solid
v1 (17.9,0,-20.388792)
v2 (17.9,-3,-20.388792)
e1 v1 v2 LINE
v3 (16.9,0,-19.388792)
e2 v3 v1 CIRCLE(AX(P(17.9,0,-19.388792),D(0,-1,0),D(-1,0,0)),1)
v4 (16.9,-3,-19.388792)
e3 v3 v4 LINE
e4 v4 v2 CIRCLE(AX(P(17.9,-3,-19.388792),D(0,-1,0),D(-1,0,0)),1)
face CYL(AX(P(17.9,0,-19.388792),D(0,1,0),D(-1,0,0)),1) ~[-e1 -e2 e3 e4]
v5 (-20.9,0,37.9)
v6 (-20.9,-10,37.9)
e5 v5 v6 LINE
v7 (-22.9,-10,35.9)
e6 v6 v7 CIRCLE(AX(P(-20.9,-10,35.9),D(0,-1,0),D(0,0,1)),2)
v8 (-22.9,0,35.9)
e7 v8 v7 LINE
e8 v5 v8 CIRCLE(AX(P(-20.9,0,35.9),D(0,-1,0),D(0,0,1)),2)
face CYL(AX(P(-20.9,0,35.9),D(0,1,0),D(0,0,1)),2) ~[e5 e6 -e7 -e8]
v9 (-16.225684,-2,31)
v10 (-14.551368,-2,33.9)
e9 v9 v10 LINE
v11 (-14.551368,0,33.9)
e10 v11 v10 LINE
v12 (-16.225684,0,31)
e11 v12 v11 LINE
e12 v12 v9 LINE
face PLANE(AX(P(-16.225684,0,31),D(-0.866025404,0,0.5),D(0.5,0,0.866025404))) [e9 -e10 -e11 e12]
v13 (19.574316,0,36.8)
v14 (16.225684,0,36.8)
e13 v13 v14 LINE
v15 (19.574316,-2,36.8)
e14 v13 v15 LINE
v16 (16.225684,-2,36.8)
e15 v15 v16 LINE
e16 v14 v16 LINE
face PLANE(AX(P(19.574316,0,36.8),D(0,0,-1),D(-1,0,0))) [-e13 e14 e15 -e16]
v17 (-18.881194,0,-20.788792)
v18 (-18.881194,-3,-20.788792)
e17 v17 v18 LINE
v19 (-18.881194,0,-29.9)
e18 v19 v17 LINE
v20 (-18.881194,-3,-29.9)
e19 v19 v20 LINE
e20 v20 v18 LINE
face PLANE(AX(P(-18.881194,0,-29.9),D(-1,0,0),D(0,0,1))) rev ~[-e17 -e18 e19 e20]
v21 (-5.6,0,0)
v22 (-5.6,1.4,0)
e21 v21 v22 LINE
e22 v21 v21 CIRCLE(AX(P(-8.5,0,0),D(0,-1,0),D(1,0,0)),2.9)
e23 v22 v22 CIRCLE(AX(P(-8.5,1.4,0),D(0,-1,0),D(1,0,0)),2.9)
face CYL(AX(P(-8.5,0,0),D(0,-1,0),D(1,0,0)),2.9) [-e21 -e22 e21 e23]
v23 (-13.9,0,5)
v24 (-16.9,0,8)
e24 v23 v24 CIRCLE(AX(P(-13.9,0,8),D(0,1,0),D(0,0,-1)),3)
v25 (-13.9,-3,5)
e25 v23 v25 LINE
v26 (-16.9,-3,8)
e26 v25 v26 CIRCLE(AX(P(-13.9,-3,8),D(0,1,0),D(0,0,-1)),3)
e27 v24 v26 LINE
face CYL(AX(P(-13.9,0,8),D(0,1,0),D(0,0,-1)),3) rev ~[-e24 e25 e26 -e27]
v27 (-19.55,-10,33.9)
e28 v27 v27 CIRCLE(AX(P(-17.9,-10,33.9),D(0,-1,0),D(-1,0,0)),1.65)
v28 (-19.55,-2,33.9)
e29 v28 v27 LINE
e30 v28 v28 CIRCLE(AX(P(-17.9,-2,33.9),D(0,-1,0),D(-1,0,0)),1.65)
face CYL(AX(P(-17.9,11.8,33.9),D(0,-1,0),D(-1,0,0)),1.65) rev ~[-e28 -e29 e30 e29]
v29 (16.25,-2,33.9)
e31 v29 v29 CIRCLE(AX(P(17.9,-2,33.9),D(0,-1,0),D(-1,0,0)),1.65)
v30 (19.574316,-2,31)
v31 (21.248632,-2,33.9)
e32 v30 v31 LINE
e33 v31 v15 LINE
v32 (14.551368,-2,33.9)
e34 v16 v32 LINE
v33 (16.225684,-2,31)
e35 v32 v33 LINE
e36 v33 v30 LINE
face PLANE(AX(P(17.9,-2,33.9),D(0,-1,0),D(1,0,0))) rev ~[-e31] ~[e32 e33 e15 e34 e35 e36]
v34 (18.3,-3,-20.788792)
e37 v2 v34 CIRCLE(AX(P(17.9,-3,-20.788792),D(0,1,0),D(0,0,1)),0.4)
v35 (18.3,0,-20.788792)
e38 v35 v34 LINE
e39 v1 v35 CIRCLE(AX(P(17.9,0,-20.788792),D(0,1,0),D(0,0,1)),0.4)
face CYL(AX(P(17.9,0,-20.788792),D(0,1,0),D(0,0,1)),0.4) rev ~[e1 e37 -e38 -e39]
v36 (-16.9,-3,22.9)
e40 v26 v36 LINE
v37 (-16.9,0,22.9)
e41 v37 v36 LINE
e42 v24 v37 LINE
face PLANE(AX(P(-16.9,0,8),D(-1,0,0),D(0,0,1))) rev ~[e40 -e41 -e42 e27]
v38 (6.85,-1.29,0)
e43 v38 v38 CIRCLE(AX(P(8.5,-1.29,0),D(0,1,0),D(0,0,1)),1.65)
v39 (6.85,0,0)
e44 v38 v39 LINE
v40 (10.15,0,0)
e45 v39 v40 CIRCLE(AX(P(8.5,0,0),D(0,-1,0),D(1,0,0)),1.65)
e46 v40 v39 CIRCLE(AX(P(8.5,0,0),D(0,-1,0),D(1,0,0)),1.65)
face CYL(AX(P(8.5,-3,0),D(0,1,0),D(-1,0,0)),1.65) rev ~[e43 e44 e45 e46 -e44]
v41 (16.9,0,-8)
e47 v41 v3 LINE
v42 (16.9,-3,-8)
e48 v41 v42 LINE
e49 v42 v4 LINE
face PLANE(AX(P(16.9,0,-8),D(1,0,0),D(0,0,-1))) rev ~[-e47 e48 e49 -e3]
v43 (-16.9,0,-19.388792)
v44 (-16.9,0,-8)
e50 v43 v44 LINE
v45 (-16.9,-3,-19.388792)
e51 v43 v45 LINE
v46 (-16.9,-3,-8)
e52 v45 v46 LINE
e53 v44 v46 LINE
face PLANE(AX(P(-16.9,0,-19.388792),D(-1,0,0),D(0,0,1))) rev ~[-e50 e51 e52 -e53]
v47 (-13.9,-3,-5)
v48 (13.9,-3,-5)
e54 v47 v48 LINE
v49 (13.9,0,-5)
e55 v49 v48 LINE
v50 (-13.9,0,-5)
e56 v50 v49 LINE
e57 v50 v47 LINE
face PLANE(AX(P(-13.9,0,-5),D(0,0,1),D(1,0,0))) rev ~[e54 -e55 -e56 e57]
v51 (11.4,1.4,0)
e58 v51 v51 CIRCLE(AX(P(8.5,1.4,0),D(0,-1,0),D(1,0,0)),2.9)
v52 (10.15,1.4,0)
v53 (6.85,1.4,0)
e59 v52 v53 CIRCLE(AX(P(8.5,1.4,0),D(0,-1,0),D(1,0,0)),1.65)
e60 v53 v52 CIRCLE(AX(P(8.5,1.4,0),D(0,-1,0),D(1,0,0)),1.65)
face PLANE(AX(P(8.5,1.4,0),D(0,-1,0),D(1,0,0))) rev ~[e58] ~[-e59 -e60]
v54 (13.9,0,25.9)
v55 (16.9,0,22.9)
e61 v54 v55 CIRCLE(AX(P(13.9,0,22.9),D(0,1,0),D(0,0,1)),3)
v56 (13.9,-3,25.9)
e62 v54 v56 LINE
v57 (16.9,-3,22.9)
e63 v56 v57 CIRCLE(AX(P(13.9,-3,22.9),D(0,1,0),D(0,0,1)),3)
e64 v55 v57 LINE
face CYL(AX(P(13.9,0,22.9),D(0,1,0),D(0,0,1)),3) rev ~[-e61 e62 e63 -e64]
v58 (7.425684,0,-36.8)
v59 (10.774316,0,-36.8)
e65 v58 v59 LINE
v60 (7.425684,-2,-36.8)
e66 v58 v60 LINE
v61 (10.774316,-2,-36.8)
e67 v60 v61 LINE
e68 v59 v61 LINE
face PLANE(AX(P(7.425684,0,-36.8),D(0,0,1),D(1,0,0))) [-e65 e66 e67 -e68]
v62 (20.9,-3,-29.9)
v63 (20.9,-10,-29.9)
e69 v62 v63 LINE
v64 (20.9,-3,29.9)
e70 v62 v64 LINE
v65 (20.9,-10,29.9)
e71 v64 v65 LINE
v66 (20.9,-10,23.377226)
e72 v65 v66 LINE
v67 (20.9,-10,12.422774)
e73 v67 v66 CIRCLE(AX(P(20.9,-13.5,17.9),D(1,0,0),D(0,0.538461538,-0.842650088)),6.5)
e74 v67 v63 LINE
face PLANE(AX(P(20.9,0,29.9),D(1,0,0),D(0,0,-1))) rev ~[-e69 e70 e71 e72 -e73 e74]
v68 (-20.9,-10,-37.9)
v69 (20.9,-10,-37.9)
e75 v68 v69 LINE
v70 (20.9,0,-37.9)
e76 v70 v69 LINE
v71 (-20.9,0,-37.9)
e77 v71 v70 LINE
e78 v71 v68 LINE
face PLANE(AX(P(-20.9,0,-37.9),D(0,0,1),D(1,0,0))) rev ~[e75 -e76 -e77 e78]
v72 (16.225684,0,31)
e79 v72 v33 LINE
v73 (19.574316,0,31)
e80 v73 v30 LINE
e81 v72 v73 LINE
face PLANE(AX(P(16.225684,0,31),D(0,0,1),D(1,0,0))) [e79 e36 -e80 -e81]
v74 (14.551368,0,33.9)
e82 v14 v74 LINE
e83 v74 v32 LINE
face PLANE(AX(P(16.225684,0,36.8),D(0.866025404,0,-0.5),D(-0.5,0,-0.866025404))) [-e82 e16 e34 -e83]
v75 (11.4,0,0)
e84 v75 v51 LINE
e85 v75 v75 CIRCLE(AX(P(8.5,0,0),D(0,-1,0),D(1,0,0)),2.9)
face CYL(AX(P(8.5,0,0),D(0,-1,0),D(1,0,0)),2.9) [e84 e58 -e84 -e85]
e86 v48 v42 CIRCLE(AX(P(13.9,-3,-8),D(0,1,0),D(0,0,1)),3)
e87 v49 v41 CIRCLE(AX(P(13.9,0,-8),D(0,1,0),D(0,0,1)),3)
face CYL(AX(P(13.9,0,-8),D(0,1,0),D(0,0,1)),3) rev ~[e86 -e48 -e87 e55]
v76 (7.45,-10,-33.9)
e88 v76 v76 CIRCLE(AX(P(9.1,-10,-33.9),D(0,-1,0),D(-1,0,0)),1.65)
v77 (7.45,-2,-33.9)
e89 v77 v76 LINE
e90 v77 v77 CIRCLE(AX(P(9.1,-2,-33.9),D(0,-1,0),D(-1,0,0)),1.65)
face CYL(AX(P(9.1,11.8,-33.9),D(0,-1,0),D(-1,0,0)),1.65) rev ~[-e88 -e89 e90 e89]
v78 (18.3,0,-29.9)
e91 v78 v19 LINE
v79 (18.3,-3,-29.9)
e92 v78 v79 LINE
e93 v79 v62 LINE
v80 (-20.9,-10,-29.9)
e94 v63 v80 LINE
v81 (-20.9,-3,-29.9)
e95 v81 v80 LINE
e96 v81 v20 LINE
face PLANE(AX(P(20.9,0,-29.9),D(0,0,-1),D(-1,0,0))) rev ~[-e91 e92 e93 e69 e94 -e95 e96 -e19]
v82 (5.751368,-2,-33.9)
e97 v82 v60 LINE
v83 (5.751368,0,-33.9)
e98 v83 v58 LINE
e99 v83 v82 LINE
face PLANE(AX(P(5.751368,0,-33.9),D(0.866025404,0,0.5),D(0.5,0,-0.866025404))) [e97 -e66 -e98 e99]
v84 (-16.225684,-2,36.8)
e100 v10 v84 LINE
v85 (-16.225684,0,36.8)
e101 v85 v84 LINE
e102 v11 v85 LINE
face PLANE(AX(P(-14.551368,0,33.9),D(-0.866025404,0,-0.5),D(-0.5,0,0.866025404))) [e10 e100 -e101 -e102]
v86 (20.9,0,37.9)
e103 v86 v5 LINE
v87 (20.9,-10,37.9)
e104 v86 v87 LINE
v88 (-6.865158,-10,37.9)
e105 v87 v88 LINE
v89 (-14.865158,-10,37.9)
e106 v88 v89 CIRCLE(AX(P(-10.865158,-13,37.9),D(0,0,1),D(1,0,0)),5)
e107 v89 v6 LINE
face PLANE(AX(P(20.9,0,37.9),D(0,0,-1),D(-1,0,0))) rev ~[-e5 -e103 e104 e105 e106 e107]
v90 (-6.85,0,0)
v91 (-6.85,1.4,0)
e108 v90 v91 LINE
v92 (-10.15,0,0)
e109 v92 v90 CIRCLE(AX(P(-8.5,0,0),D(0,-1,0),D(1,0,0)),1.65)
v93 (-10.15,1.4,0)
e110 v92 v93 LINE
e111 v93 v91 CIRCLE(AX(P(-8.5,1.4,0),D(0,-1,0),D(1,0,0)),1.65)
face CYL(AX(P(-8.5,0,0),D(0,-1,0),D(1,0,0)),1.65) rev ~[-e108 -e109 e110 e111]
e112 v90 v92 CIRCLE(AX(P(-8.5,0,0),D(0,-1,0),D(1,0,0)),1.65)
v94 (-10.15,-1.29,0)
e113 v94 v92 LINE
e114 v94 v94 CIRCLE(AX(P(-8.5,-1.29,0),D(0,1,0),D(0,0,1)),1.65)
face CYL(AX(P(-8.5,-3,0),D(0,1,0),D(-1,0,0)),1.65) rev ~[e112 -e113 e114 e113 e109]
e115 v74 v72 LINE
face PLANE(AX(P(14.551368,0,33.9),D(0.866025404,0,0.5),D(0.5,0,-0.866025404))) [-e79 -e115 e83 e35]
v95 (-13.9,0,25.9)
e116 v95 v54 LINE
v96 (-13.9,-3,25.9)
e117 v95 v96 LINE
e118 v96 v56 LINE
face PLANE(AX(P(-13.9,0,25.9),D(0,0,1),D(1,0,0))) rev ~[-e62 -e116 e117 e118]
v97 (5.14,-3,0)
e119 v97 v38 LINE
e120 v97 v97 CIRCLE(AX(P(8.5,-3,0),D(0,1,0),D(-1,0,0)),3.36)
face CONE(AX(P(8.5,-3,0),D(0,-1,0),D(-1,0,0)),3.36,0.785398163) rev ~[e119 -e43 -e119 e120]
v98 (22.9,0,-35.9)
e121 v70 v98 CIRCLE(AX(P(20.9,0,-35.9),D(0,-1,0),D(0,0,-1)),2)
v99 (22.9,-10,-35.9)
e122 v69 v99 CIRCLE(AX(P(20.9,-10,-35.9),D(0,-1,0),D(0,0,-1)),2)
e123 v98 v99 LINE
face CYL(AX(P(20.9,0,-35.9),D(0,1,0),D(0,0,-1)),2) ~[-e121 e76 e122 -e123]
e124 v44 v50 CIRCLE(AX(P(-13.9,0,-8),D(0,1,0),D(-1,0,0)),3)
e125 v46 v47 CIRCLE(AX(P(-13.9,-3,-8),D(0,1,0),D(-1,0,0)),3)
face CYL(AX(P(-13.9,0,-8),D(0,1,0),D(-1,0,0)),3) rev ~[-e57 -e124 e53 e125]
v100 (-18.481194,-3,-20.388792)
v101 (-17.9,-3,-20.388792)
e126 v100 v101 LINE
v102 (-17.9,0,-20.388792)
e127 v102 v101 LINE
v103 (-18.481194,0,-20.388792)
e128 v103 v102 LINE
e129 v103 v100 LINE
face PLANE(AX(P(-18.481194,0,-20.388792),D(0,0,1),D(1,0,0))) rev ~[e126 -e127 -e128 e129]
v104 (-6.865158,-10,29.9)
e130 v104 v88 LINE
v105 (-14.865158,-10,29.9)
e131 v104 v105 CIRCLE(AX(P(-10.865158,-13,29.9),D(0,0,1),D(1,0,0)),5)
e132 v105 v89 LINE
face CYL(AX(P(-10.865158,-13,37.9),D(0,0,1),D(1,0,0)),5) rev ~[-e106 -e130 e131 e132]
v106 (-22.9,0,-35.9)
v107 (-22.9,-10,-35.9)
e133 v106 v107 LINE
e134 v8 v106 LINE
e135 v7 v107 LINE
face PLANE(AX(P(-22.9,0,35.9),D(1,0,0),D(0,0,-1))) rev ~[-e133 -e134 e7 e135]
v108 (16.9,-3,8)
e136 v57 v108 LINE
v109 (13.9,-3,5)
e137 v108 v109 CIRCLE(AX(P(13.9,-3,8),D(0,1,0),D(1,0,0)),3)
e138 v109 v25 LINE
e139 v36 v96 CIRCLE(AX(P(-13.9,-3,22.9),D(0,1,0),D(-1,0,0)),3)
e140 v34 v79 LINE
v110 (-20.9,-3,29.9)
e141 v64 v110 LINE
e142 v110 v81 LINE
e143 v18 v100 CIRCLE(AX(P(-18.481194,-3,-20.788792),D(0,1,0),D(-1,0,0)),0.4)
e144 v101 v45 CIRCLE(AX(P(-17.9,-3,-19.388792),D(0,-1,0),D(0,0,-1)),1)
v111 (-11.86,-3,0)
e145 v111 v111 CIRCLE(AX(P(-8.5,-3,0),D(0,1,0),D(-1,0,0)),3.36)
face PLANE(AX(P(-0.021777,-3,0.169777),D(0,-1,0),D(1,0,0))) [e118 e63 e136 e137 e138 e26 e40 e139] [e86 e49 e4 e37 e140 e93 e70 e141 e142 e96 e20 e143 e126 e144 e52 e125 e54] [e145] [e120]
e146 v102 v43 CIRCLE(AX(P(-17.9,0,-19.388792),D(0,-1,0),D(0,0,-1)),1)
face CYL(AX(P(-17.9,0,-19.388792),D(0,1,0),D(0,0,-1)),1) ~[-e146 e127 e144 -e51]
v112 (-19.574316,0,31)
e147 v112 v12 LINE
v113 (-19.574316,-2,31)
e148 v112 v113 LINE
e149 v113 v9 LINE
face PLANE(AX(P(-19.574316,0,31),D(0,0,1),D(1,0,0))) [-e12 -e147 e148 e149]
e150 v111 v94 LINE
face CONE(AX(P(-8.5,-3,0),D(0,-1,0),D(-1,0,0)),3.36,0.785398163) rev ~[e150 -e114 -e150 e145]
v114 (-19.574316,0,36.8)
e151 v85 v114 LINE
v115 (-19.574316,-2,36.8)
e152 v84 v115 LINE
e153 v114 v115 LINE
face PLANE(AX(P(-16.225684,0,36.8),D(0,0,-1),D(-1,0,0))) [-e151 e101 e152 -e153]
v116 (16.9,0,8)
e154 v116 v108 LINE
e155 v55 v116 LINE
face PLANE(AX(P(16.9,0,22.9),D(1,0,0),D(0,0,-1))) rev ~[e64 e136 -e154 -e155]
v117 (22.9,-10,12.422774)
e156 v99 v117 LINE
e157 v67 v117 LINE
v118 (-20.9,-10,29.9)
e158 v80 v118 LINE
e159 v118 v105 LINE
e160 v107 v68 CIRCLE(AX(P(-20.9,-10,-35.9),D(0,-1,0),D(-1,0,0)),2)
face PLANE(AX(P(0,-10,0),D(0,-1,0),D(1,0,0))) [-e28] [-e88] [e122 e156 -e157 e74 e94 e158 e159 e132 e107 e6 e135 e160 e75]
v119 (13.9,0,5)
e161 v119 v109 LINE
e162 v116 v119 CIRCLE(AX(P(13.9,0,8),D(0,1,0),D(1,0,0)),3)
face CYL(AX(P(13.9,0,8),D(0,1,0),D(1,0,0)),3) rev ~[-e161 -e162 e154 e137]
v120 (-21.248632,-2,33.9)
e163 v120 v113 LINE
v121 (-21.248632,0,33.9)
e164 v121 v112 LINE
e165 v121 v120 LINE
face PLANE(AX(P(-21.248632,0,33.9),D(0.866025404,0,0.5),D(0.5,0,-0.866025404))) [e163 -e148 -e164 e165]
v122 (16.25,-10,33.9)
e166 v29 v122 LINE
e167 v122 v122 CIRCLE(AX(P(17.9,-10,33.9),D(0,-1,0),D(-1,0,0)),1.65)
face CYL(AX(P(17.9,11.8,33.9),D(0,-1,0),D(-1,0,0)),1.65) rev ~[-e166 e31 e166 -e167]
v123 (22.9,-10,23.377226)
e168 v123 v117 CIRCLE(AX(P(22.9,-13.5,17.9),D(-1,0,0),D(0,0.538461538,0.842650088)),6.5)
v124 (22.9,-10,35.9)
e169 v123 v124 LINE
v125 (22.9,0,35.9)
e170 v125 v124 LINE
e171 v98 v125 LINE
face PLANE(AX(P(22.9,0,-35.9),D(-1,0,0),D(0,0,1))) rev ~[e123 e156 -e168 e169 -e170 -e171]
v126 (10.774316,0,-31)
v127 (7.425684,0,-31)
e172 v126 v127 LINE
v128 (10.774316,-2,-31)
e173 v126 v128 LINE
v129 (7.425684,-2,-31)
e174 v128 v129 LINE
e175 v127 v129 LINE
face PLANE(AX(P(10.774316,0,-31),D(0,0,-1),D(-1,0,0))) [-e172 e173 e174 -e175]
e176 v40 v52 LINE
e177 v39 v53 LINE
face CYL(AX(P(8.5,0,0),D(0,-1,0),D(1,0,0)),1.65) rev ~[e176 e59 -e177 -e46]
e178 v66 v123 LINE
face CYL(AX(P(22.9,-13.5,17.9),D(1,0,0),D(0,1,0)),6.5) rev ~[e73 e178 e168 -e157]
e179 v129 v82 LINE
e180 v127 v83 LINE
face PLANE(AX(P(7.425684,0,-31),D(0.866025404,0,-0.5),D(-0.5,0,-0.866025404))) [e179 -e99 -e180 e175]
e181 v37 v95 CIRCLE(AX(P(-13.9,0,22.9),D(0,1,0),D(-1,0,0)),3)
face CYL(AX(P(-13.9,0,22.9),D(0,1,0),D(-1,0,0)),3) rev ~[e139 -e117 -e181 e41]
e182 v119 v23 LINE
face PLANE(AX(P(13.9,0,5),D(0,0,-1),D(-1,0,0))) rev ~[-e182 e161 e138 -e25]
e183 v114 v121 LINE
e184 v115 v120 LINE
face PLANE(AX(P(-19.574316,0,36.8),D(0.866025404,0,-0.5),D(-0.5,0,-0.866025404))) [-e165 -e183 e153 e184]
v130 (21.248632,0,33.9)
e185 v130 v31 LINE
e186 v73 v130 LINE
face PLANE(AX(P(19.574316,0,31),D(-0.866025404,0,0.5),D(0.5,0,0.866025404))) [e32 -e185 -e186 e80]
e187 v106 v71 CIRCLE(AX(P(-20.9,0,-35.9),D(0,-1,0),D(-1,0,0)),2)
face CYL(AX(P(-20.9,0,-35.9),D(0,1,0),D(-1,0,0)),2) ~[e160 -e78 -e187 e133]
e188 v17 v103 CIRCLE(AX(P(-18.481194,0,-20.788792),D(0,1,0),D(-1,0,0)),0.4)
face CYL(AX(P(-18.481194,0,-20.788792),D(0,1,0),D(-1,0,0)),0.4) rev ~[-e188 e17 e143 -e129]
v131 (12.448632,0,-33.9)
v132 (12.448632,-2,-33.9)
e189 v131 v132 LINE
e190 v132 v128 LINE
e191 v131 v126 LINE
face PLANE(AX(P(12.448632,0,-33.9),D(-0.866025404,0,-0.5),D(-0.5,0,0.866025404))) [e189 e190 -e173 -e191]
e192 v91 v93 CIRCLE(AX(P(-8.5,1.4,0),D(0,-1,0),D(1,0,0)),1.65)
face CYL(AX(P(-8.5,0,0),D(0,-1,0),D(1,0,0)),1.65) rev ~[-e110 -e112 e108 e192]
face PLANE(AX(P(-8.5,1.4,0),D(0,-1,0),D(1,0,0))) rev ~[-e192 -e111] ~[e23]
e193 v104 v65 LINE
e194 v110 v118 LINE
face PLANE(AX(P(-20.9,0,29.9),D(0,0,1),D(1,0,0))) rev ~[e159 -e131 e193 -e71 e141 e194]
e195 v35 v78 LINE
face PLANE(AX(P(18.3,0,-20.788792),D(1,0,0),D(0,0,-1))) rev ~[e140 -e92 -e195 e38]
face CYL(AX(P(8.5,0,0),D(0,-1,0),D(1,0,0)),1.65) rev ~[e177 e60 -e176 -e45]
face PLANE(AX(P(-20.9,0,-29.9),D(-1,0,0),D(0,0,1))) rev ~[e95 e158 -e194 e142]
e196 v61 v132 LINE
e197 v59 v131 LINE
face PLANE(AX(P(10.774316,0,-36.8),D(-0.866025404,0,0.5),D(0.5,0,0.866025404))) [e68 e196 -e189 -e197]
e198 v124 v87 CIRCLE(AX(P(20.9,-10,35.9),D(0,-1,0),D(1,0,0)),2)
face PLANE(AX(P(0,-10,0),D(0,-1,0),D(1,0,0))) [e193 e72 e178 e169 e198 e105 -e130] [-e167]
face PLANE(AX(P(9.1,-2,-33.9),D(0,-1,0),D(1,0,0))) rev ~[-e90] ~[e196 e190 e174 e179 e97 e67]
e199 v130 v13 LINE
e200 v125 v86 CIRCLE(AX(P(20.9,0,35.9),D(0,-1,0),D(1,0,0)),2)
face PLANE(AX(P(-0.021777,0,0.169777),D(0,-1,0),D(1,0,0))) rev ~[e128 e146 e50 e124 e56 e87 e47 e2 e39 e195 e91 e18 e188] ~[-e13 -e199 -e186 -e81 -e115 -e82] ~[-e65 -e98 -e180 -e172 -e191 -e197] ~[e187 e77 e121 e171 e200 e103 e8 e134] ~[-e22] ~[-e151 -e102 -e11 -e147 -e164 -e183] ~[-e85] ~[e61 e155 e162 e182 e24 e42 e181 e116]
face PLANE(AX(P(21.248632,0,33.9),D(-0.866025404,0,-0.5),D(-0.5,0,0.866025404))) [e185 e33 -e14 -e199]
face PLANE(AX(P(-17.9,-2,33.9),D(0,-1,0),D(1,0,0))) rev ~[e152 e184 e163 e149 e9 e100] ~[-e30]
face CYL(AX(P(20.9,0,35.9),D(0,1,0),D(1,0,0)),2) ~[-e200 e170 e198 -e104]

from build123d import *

# Parameters (mm, degrees)
F1_DEPTH        = 10
F0_R            = 2.9
F2_DEPTH        = 3
F3_R            = 6.5
F4_DEPTH        = 4
F5_R            = 5
F6_DEPTH        = 12
F7_DEPTH        = 2
F8_D            = 3.3
F8_DEPTH        = 13.8
F8_START        = 2
F8_TIP          = 0.9914200214
F9_DEPTH        = 1.4
F10_D           = 3.3
F10_DEPTH       = 8
F10_TIP         = 0.9914200214
F12_D           = 3.3
F12_DEPTH       = 8
F12_CSINK_D     = 6.72
F12_CSINK_ANGLE = 90
F12_TIP         = 0.9914200214


with BuildPart() as f1:
    # F0 (on Front) → F1 (new body)
    with BuildSketch(Plane.XZ):
        with BuildLine():
            Line((20.9, 37.9), (17.9, 37.9))
            Line((17.9, 37.9), (-17.9, 37.9))
            Line((-17.9, 37.9), (-20.9, 37.9))
            ThreePointArc((-20.9, 37.9), (-22.3142135624, 37.3142135624), (-22.9, 35.9))
            Line((-22.9, 35.9), (-22.9, 32.9))
            Line((-22.9, 32.9), (-22.9, -35.9))
            ThreePointArc((-22.9, -35.9), (-22.3142135624, -37.3142135624), (-20.9, -37.9))
            Line((-20.9, -37.9), (20.9, -37.9))
            ThreePointArc((20.9, -37.9), (22.3142135624, -37.3142135624), (22.9, -35.9))
            Line((22.9, -35.9), (22.9, 32.9))
            Line((22.9, 32.9), (22.9, 35.9))
            ThreePointArc((22.9, 35.9), (22.3142135624, 37.3142135624), (20.9, 37.9))
        make_face()
        Polygon((7.4256842194, -31), (10.7743157806, -31), (12.4486315613, -33.9), (10.7743157806, -36.8), (7.4256842194, -36.8), (5.7513684387, -33.9), align=None, mode=Mode.SUBTRACT)
        Polygon((-16.2256842194, 36.8), (-14.5513684387, 33.9), (-16.2256842194, 31), (-19.5743157806, 31), (-21.2486315613, 33.9), (-19.5743157806, 36.8), align=None, mode=Mode.SUBTRACT)
        Polygon((20.9, 29.9), (20.9, -29.9), (18.3, -29.9), (-18.8811943151, -29.9), (-20.9, -29.9), (-20.9, 29.9), align=None, mode=Mode.SUBTRACT)
        Polygon((21.2486315613, 33.9), (19.5743157806, 31), (16.2256842194, 31), (14.5513684387, 33.9), (16.2256842194, 36.8), (19.5743157806, 36.8), align=None, mode=Mode.SUBTRACT)
        Polygon((-16.2256842194, 31), (-14.5513684387, 33.9), (-16.2256842194, 36.8), (-19.5743157806, 36.8), (-21.2486315613, 33.9), (-19.5743157806, 31), align=None)
        Polygon((16.2256842194, 31), (19.5743157806, 31), (21.2486315613, 33.9), (19.5743157806, 36.8), (16.2256842194, 36.8), (14.5513684387, 33.9), align=None)
        Polygon((12.4486315613, -33.9), (10.7743157806, -31), (7.4256842194, -31), (5.7513684387, -33.9), (7.4256842194, -36.8), (10.7743157806, -36.8), align=None)
    extrude(amount=F1_DEPTH)

    # F0 (on Front) → F2 (join)
    with BuildSketch(Plane.XZ):
        with BuildLine():
            Line((18.3, -29.9), (20.9, -29.9))
            Line((20.9, -29.9), (20.9, 29.9))
            Line((20.9, 29.9), (-20.9, 29.9))
            Line((-20.9, 29.9), (-20.9, -29.9))
            Line((-20.9, -29.9), (-18.8811943151, -29.9))
            Line((-18.8811943151, -29.9), (-18.8811943151, -20.7887917079))
            ThreePointArc((-18.8811943151, -20.7887917079), (-18.7640370276, -20.5059489954), (-18.4811943151, -20.3887917079))
            Line((-18.4811943151, -20.3887917079), (-17.9, -20.3887917079))
            ThreePointArc((-17.9, -20.3887917079), (-17.1928932188, -20.0958984891), (-16.9, -19.3887917079))
            Line((-16.9, -19.3887917079), (-16.9, -8))
            ThreePointArc((-16.9, -8), (-16.0213203436, -5.8786796564), (-13.9, -5))
            Line((-13.9, -5), (13.9, -5))
            ThreePointArc((13.9, -5), (16.0213203436, -5.8786796564), (16.9, -8))
            Line((16.9, -8), (16.9, -19.3887917079))
            ThreePointArc((16.9, -19.3887917079), (17.1928932188, -20.0958984891), (17.9, -20.3887917079))
            ThreePointArc((17.9, -20.3887917079), (18.1828427125, -20.5059489954), (18.3, -20.7887917079))
            Line((18.3, -20.7887917079), (18.3, -29.9))
        make_face()
        with Locations((-8.5, 0)):
            Circle(F0_R, mode=Mode.SUBTRACT)
        with Locations((8.5, 0)):
            Circle(F0_R, mode=Mode.SUBTRACT)
        with BuildLine():
            ThreePointArc((-16.9, 22.9), (-16.0213203436, 25.0213203436), (-13.9, 25.9))
            Line((-13.9, 25.9), (13.9, 25.9))
            ThreePointArc((13.9, 25.9), (16.0213203436, 25.0213203436), (16.9, 22.9))
            Line((16.9, 22.9), (16.9, 8))
            ThreePointArc((16.9, 8), (16.0213203436, 5.8786796564), (13.9, 5))
            Line((13.9, 5), (-13.9, 5))
            ThreePointArc((-13.9, 5), (-16.0213203436, 5.8786796564), (-16.9, 8))
            Line((-16.9, 8), (-16.9, 22.9))
        make_face(mode=Mode.SUBTRACT)
        with Locations((-8.5, 0)):
            Circle(F0_R)
        with Locations((8.5, 0)):
            Circle(F0_R)
    extrude(amount=F2_DEPTH)

    # F3 (on face) → F4 (cut)
    with BuildSketch(Plane.YZ.offset(22.9)):
        with Locations((-13.5, 17.9)):
            Circle(F3_R)
    extrude(amount=-F4_DEPTH, mode=Mode.SUBTRACT)

    # F5 (on face) → F6 (cut)
    with BuildSketch(Plane.XY.offset(37.9)):
        with Locations((-10.8651584014, -13)):
            Circle(F5_R)
    extrude(amount=-F6_DEPTH, mode=Mode.SUBTRACT)

    # F0 (on Front) → F7 (cut)
    with BuildSketch(Plane.XZ):
        Polygon((-16.2256842194, 31), (-14.5513684387, 33.9), (-16.2256842194, 36.8), (-19.5743157806, 36.8), (-21.2486315613, 33.9), (-19.5743157806, 31), align=None)
        Polygon((16.2256842194, 31), (19.5743157806, 31), (21.2486315613, 33.9), (19.5743157806, 36.8), (16.2256842194, 36.8), (14.5513684387, 33.9), align=None)
        Polygon((12.4486315613, -33.9), (10.7743157806, -31), (7.4256842194, -31), (5.7513684387, -33.9), (7.4256842194, -36.8), (10.7743157806, -36.8), align=None)
    extrude(amount=F7_DEPTH, mode=Mode.SUBTRACT)

    # F8
    # its depths count from where the whole tool has entered the part; down to there all is cleared
    with Locations(Plane(origin=(0, 0, 0), x_dir=(1, 0, 0), z_dir=(0, 1, 0)).offset(-F8_START)):
        with Locations((-17.9, -33.9), (17.9, -33.9), (9.1, 33.9)):
            Hole(F8_D / 2, depth=F8_DEPTH)
            with Locations((0, 0, -(F8_DEPTH + F8_TIP / 2))):  # 118° drill point
                Cone(0, F8_D / 2, F8_TIP, mode=Mode.SUBTRACT)

    # F0 (on Front) → F9 (join)
    with BuildSketch(Plane.XZ):
        with Locations((8.5, 0)):
            Circle(F0_R)
        with Locations((-8.5, 0)):
            Circle(F0_R)
    extrude(amount=-F9_DEPTH)

    # F10 (one way)
    with BuildSketch(Plane.XZ):
        with Locations((-8.5, 0), (8.5, 0)):
            Circle(F10_D / 2)
    extrude(amount=-F10_DEPTH, mode=Mode.SUBTRACT)
    with Locations(Plane.XZ):
        with Locations((-8.5, 0), (8.5, 0)):
            with Locations((0, 0, -(F10_DEPTH + F10_TIP / 2))):  # 118° drill point
                Cone(0, F10_D / 2, F10_TIP, mode=Mode.SUBTRACT)

    # F12
    with Locations(Plane.XZ.offset(3)):
        with Locations((-8.5, 0), (8.5, 0)):
            CounterSinkHole(F12_D / 2, F12_CSINK_D / 2, depth=F12_DEPTH, counter_sink_angle=F12_CSINK_ANGLE)
            with Locations((0, 0, -(F12_DEPTH + F12_TIP / 2))):  # 118° drill point
                Cone(0, F12_D / 2, F12_TIP, mode=Mode.SUBTRACT)


solid = f1.part
